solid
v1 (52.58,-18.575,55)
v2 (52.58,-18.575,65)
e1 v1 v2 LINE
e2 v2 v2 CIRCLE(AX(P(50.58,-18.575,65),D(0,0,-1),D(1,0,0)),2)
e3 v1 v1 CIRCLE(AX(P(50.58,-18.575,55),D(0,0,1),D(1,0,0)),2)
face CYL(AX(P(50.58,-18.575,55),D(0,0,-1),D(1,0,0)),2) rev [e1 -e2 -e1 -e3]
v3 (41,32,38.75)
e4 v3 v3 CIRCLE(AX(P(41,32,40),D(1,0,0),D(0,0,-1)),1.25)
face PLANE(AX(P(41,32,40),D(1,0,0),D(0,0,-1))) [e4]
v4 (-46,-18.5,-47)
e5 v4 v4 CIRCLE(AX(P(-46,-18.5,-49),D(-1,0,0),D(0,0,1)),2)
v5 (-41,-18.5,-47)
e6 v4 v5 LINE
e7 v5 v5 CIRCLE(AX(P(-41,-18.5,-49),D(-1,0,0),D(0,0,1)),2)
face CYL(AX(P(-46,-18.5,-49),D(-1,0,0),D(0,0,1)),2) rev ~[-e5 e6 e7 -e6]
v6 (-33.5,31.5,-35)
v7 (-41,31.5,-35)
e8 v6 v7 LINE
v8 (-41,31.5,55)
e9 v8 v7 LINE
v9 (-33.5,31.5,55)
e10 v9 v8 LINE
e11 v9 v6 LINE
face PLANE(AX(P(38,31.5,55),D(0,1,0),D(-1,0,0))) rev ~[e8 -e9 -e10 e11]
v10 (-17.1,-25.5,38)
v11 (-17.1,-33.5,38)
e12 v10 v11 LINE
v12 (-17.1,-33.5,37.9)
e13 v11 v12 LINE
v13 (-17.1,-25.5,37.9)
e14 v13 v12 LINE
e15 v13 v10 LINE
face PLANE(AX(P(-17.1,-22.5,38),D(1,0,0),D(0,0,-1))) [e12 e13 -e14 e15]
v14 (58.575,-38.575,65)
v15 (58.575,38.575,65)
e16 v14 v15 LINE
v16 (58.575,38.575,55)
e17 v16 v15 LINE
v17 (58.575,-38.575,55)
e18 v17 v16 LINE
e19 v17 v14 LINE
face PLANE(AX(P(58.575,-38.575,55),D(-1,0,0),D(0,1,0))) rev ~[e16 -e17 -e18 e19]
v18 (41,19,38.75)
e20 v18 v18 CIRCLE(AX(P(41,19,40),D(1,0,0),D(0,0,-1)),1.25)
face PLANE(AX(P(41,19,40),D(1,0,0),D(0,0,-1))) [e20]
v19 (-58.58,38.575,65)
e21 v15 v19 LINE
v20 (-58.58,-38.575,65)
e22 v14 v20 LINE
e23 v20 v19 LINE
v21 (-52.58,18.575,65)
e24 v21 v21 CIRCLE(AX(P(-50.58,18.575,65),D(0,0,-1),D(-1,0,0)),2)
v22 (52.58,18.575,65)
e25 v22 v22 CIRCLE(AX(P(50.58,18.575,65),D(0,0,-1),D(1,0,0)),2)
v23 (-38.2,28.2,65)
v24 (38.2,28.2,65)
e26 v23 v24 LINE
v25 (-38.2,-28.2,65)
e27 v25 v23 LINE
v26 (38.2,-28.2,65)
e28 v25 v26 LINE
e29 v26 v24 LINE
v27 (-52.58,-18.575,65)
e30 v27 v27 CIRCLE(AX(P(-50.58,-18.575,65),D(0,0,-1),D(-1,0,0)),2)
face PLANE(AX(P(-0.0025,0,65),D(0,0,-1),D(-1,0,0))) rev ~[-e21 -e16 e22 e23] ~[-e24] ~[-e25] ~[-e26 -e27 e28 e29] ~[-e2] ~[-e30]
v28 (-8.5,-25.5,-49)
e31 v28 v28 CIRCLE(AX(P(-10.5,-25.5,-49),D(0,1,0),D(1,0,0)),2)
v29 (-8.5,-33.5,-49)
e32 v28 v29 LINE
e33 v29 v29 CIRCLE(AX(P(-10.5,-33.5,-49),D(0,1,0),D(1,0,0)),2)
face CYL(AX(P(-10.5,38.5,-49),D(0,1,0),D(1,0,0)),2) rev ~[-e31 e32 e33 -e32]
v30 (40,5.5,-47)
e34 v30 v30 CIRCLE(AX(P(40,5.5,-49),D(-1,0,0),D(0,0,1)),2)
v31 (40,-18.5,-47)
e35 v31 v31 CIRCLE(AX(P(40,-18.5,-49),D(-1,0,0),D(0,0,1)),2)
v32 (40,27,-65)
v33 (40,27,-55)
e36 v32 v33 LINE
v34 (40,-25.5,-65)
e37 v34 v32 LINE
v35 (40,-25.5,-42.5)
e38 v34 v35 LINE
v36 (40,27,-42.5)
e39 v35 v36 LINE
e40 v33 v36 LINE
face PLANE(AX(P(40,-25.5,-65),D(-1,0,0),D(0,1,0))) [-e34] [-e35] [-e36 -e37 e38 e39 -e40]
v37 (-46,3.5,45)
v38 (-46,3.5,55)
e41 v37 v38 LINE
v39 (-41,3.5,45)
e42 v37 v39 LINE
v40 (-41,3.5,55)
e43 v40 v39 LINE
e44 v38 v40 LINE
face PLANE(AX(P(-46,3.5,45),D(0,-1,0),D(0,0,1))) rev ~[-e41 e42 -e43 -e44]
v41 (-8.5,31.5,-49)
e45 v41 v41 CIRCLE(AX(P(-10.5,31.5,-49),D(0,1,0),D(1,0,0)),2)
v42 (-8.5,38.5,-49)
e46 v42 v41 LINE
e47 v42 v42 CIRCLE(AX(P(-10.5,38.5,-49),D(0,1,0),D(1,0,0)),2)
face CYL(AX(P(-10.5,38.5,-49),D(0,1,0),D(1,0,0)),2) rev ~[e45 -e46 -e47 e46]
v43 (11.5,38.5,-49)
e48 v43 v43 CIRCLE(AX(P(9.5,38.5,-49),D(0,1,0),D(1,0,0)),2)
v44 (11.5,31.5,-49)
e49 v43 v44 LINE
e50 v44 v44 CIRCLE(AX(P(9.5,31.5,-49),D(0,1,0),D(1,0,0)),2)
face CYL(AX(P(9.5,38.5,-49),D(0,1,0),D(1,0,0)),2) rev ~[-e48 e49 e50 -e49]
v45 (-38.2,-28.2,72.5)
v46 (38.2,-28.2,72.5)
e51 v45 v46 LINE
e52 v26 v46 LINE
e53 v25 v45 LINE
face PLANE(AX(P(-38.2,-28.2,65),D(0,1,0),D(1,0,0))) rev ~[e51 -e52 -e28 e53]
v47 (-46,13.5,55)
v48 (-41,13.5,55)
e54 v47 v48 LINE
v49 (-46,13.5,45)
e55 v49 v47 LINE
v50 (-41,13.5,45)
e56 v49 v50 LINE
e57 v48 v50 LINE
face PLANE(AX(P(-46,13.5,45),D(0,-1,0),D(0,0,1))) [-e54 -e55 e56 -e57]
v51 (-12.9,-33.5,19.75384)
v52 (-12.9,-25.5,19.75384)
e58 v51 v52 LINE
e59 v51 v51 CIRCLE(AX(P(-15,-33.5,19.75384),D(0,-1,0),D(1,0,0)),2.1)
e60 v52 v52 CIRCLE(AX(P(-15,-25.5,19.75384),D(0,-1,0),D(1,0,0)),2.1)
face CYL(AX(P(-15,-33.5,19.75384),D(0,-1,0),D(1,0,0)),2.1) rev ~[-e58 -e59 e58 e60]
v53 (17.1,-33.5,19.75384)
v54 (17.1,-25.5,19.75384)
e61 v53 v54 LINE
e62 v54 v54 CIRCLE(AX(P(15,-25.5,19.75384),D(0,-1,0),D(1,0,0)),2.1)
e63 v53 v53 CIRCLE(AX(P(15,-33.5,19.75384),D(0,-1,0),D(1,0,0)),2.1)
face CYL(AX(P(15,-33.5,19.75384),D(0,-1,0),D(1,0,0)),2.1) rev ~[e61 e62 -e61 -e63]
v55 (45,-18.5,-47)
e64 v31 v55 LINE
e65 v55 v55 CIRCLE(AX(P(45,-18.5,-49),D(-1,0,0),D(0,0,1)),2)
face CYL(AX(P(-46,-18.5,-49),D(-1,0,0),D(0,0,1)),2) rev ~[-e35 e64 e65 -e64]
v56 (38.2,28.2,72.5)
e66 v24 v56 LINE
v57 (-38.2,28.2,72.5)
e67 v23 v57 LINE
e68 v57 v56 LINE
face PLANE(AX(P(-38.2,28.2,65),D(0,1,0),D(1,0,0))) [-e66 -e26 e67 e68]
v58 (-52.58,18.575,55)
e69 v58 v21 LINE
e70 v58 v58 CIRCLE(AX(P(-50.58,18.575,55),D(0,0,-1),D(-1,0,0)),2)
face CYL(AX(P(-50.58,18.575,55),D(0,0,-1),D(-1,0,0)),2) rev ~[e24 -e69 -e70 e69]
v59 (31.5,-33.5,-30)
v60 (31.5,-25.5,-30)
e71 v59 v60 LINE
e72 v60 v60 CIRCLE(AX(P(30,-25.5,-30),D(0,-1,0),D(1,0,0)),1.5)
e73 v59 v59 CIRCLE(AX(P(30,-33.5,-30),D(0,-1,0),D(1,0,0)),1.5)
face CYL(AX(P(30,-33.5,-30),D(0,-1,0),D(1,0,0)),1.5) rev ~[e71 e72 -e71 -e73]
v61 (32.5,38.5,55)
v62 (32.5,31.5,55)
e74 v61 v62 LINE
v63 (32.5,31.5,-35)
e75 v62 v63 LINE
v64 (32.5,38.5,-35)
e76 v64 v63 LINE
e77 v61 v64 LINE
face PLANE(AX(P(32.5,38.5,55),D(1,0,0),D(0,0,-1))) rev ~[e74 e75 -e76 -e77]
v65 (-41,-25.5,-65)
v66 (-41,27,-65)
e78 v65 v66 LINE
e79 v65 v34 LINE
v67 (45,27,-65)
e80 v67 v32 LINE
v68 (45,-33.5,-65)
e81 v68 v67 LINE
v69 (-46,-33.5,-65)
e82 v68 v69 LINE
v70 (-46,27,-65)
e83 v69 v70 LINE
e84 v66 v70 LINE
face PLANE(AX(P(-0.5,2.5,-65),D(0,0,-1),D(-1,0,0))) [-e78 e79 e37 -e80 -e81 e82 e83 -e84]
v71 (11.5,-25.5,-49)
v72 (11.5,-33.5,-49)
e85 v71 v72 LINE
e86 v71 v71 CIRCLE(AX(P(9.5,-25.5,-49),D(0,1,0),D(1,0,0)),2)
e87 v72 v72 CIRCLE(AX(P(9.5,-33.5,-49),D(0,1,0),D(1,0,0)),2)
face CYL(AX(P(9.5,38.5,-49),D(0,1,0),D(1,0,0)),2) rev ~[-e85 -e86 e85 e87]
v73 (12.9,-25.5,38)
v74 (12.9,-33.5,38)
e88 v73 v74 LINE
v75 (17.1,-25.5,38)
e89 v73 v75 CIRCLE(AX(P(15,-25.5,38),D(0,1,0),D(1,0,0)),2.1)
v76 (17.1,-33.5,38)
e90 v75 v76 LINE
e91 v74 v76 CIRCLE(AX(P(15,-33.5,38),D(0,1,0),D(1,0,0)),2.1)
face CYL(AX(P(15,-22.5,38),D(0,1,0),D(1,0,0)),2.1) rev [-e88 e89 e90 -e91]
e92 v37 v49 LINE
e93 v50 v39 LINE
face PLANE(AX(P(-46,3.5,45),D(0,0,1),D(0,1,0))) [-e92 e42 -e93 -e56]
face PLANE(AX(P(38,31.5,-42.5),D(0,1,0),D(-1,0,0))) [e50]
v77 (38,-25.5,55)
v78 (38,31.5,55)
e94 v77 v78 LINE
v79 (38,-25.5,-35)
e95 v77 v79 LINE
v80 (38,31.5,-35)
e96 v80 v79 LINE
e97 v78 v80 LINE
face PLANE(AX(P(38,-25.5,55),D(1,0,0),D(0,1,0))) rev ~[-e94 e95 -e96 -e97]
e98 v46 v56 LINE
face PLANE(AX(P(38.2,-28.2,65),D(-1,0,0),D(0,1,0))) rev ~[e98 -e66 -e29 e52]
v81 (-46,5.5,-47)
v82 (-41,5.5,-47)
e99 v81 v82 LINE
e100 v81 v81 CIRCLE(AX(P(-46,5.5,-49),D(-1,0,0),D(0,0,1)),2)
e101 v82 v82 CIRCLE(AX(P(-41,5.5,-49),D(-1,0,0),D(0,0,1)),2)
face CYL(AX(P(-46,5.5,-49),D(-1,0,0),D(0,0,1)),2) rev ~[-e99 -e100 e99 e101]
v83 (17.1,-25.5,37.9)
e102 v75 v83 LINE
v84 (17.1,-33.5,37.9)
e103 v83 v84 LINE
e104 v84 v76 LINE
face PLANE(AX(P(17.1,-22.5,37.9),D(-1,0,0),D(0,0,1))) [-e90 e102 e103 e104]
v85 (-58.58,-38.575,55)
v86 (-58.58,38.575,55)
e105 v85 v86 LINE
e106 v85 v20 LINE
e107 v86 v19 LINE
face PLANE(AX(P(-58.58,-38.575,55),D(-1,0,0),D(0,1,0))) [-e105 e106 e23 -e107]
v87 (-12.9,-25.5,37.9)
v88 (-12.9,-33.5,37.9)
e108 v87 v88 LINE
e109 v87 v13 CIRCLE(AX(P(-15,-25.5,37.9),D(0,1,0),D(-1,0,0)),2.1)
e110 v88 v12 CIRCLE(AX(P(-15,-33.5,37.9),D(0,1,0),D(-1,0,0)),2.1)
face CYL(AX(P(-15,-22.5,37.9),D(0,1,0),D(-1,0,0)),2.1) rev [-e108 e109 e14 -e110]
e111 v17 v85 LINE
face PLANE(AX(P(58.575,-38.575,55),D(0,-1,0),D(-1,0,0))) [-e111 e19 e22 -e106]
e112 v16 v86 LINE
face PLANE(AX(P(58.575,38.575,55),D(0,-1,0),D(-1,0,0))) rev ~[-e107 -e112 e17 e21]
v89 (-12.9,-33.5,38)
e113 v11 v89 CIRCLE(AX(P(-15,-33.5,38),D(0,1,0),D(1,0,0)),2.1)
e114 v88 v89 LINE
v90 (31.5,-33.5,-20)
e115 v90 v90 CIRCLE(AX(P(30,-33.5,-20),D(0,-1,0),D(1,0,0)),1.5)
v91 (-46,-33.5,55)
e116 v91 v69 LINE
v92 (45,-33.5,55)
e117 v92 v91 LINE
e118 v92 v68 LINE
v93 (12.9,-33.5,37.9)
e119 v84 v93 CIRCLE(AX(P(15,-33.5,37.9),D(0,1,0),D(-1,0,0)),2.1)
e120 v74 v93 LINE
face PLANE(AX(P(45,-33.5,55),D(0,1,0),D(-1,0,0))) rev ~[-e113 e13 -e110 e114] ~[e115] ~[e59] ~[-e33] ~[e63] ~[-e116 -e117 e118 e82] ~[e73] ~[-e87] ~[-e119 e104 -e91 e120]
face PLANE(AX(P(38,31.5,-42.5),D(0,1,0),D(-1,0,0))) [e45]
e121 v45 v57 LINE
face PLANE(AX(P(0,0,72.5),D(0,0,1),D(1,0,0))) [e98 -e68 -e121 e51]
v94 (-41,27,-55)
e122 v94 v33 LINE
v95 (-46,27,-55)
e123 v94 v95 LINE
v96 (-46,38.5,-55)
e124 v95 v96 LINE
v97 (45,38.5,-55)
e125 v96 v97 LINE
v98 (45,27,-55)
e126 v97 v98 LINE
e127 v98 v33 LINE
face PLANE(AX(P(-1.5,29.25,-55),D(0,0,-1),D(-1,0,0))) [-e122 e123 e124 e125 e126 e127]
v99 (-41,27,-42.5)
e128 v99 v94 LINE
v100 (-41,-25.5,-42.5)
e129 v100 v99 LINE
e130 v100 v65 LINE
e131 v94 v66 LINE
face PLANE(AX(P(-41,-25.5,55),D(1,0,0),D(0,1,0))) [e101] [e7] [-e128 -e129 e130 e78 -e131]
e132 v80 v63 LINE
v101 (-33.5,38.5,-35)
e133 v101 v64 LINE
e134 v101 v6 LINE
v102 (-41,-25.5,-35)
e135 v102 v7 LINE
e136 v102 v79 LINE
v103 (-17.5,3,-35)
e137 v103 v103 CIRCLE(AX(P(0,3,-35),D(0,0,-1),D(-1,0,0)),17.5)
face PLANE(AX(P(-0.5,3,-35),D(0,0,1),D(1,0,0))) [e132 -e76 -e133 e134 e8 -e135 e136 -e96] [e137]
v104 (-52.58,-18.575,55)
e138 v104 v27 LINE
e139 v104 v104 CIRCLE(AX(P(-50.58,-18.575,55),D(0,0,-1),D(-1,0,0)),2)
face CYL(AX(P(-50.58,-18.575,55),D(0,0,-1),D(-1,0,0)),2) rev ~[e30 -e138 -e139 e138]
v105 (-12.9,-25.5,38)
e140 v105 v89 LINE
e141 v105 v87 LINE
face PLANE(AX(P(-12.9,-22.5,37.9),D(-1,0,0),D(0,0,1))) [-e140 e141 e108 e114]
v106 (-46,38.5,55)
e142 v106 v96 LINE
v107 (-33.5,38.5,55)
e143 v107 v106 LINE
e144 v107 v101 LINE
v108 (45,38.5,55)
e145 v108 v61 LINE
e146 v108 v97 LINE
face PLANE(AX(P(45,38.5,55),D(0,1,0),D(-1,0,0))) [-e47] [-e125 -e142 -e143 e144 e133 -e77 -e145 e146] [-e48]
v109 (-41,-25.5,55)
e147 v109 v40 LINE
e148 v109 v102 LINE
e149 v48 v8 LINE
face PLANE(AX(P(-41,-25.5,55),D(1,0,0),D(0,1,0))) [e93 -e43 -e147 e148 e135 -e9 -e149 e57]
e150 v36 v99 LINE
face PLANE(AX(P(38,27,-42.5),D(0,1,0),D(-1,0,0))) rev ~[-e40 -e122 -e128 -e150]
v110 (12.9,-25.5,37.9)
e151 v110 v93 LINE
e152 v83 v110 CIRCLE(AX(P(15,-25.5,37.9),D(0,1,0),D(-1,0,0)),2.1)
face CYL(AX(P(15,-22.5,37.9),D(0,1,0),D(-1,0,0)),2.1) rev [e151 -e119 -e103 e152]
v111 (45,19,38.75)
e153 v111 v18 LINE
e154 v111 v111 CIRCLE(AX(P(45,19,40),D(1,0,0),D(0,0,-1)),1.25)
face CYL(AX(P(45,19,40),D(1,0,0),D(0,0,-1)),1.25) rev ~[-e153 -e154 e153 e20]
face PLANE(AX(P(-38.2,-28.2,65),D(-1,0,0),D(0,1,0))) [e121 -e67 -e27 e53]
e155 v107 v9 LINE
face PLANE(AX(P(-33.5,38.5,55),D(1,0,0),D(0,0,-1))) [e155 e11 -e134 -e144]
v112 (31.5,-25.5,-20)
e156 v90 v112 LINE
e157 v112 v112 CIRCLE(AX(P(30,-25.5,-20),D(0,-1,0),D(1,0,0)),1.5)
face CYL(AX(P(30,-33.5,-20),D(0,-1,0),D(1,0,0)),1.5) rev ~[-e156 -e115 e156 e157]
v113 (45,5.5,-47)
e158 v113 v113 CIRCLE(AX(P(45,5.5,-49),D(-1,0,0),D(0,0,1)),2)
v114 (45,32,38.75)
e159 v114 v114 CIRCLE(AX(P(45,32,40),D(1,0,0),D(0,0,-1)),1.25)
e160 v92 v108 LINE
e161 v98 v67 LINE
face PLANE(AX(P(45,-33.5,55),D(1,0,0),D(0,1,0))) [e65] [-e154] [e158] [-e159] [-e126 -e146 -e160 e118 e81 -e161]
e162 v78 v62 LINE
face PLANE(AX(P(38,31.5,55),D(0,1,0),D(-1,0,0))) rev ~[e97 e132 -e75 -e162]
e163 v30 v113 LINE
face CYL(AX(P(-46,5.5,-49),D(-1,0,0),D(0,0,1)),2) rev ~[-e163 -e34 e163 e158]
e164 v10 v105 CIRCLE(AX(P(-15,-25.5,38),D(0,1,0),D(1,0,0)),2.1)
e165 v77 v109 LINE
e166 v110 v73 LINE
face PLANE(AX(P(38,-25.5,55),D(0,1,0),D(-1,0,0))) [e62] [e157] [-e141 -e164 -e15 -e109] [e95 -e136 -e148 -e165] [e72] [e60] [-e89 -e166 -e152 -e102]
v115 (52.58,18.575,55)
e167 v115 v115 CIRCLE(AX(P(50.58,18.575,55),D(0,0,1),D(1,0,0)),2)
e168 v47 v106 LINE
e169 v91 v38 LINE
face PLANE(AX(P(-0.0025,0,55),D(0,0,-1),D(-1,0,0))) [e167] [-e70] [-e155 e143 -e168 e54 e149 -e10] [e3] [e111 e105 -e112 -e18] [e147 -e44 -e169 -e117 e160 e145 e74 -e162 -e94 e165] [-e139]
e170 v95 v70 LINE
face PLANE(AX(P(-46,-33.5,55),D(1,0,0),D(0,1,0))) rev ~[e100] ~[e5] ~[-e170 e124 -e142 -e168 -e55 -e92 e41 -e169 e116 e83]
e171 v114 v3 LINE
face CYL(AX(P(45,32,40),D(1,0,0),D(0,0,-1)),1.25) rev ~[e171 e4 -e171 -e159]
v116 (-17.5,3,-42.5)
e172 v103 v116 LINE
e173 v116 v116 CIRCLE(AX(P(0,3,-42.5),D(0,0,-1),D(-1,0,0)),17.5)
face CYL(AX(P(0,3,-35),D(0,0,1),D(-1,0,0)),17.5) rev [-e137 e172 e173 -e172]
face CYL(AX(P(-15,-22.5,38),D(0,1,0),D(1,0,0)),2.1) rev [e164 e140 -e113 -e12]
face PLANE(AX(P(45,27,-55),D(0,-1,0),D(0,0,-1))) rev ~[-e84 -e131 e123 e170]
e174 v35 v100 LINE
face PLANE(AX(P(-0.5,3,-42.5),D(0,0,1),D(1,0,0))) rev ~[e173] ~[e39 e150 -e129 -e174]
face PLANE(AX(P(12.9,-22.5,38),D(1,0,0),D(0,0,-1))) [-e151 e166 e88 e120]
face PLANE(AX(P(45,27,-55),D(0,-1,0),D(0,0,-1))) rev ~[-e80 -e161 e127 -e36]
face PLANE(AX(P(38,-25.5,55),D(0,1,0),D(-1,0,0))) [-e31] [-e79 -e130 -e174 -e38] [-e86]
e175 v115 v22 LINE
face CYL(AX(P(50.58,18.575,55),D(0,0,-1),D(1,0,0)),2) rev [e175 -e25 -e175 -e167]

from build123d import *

# Parameters (mm, degrees)
SKETCH1_W               = 50
SKETCH1_H               = 51
BOSS_EXTRUDE1_DEPTH     = 3
SKETCH2_W               = 50
SKETCH2_H               = 3
BOSS_EXTRUDE2_DEPTH     = 50
FILLET1_R               = 2
CHAMFER1_SIZE           = 5
SKETCH4_R               = 12.55
SKETCH4_R_2             = 2.1
CUT_EXTRUDE2_DEPTH      = 50
BOSS_EXTRUDE3_DEPTH     = 3
CROQUIS1_W              = 117.155
CROQUIS1_H              = 77.15
SALIENTE_EXTRUIR1_DEPTH = 10
CROQUIS2_W              = 76.4
CROQUIS2_H              = 56.4
SALIENTE_EXTRUIR2_DEPTH = 7.5
CROQUIS3_R              = 2
CORTAR_EXTRUIR1_DEPTH   = 27.5
CROQUIS4_W              = 91
CROQUIS4_H              = 72
CROQUIS4_W_2            = 79
CROQUIS4_H_2            = 57
SALIENTE_EXTRUIR3_DEPTH = 120
CUT_EXTRUDE1_DEPTH      = 50
CROQUIS5_W              = 66
CROQUIS5_H              = 90
CORTAR_EXTRUIR2_DEPTH   = 64
CROQUIS7_R              = 2.1
CORTAR_EXTRUIR3_DEPTH   = 20
CROQUIS9_R              = 2
CORTAR_EXTRUIR5_DEPTH   = 110
CROQUIS8_R              = 2
CORTAR_EXTRUIR6_DEPTH   = 120
CROQUIS10_R             = 17.5
SALIENTE_EXTRUIR4_DEPTH = 7.5
CROQUIS11_W             = 81
CROQUIS11_H             = 10
CROQUIS11_W_2           = 5
CORTAR_EXTRUIR7_DEPTH   = 7.9
CROQUIS12_W             = 79
CROQUIS12_H             = 4.5
SALIENTE_EXTRUIR5_DEPTH = 12.5
CROQUIS14_W             = 10
CROQUIS14_H             = 3.6
CORTAR_EXTRUIR8_DEPTH   = 100
CROQUIS21_R             = 1.25
CORTAR_EXTRUIR10_DEPTH  = 4
CROQUIS22_R             = 1.5
CORTAR_EXTRUIR11_DEPTH  = 40
CROQUIS23_W             = 10
CROQUIS23_H             = 10
CORTAR_EXTRUIR12_DEPTH  = 10
CROQUIS24_W             = 2
CROQUIS24_H             = 52.5
CORTAR_EXTRUIR13_DEPTH  = 22.5


with BuildPart() as part:
    # Sketch1 → Boss-Extrude1 (new body)
    with BuildSketch(Plane.XY):
        Rectangle(SKETCH1_W, SKETCH1_H)
    extrude(amount=BOSS_EXTRUDE1_DEPTH)

    # Sketch2 → Boss-Extrude2 (add)
    with BuildSketch(Plane.XY.offset(3)):
        with Locations((0, -24)):
            Rectangle(SKETCH2_W, SKETCH2_H)
    extrude(amount=BOSS_EXTRUDE2_DEPTH)

    # Fillet1
    fillet1_edges = [part.edges().sort_by_distance(p)[0] for p in [
        (0, -22.5, 3),
        (0, -25.5, 0),
    ]]
    fillet(fillet1_edges, radius=FILLET1_R)

    # Chamfer1
    chamfer1_edges = [part.edges().sort_by_distance(p)[0] for p in [
        (-25, -24, 53),
        (25, -24, 53),
        (-25, 25.5, 1.5),
        (25, 25.5, 1.5),
    ]]
    chamfer(chamfer1_edges, length=CHAMFER1_SIZE)

    # Sketch4 → Cut-Extrude2 (cut)
    with BuildSketch(Plane.XY.offset(3)):
        with Locations((0, 4.5)):
            Circle(SKETCH4_R)
        with Locations((0, 22)):
            Circle(SKETCH4_R_2)
        with Locations((0, -13)):
            Circle(SKETCH4_R_2)
        with Locations((17.5, 4.5)):
            Circle(SKETCH4_R_2)
        with Locations((-17.5, 4.5)):
            Circle(SKETCH4_R_2)
    extrude(amount=-CUT_EXTRUDE2_DEPTH, mode=Mode.SUBTRACT)

    # Sketch5 → Boss-Extrude3 (add)
    with BuildSketch(Plane.ZY.offset(25)):
        with BuildLine():
            Line((3, -2.5), (16, -22.5))
            Line((16, -22.5), (5, -22.5))
            ThreePointArc((5, -22.5), (3.585786438, -21.914213562), (3, -20.5))
            Line((3, -20.5), (3, -2.5))
        make_face()
    boss_extrude3 = extrude(amount=-BOSS_EXTRUDE3_DEPTH)

    # Mirror1: Boss-Extrude3 across plane
    add(boss_extrude3.mirror(Plane(origin=(0, 0, 0), x_dir=(0, 0, 1), z_dir=(1, 0, 0))))



with BuildPart() as body_2:
    # Croquis1 → Saliente-Extruir1 (new body)
    with BuildSketch(Plane(origin=(0, 0, 55), x_dir=(-1, 0, 0), z_dir=(0, 0, -1))):
        with Locations((0.0025, 0)):
            Rectangle(CROQUIS1_W, CROQUIS1_H)
    extrude(amount=-SALIENTE_EXTRUIR1_DEPTH)

    # Croquis2 → Saliente-Extruir2 (add)
    with BuildSketch(Plane.XY.offset(65)):
        Rectangle(CROQUIS2_W, CROQUIS2_H)
    extrude(amount=SALIENTE_EXTRUIR2_DEPTH)

    # Croquis3 → Cortar-Extruir1 (cut)
    with BuildSketch(Plane(origin=(0, 0, 55), x_dir=(-1, 0, 0), z_dir=(0, 0, -1))):
        with Locations((50.58, -18.575)):
            Circle(CROQUIS3_R)
        with Locations((50.58, 18.575)):
            Circle(CROQUIS3_R)
    cortar_extruir1 = extrude(amount=-CORTAR_EXTRUIR1_DEPTH, mode=Mode.SUBTRACT)

    # Simetría1: Cortar-Extruir1 across plane
    add(cortar_extruir1.mirror(Plane(origin=(0, 0, 0), x_dir=(0, 0, 1), z_dir=(1, 0, 0))), mode=Mode.SUBTRACT)


with BuildPart() as part_1:
    add(part.part)

    add(body_2.part)  # Saliente-Extruir3 merges body 2
    # Croquis4 → Saliente-Extruir3 (add)
    with BuildSketch(Plane(origin=(0, 0, 55), x_dir=(-1, 0, 0), z_dir=(0, 0, -1))):
        with Locations((0.5, 2.5)):
            Rectangle(CROQUIS4_W, CROQUIS4_H)
        with Locations((1.5, 3)):
            Rectangle(CROQUIS4_W_2, CROQUIS4_H_2, mode=Mode.SUBTRACT)
    extrude(amount=SALIENTE_EXTRUIR3_DEPTH)

    # Sketch3 → Cut-Extrude1 (cut)
    with BuildSketch(Plane(origin=(0, -22.5, 0), x_dir=(1, 0, 0), z_dir=(0, 1, 0))):
        with BuildLine():
            Line((-17.1, -38), (-17.1, -37.9))
            ThreePointArc((-17.1, -37.9), (-15, -35.8), (-12.9, -37.9))
            Line((-12.9, -37.9), (-12.9, -38))
            ThreePointArc((-12.9, -38), (-15, -40.1), (-17.1, -38))
        make_face()
        with BuildLine():
            Line((12.9, -38), (12.9, -37.9))
            ThreePointArc((12.9, -37.9), (15, -35.8), (17.1, -37.9))
            Line((17.1, -37.9), (17.1, -38))
            ThreePointArc((17.1, -38), (15, -40.1), (12.9, -38))
        make_face()
    extrude(amount=-CUT_EXTRUDE1_DEPTH, mode=Mode.SUBTRACT)

    # Croquis5 → Cortar-Extruir2 (cut)
    with BuildSketch(Plane(origin=(0, 38.5, 0), x_dir=(1, 0, 0), z_dir=(0, 1, 0))):
        with Locations((-0.5, -10)):
            Rectangle(CROQUIS5_W, CROQUIS5_H)
    extrude(amount=-CORTAR_EXTRUIR2_DEPTH, mode=Mode.SUBTRACT)

    # Croquis7 → Cortar-Extruir3 (cut)
    with BuildSketch(Plane.XZ.offset(33.5)):
        with Locations((15, 19.753839811)):
            Circle(CROQUIS7_R)
        with Locations((-15, 19.753839811)):
            Circle(CROQUIS7_R)
    extrude(amount=-CORTAR_EXTRUIR3_DEPTH, mode=Mode.SUBTRACT)

    # Croquis9 → Cortar-Extruir5 (cut)
    with BuildSketch(Plane.ZY.offset(46)):
        with Locations((-49, -18.5)):
            Circle(CROQUIS9_R)
        with Locations((-49, 5.5)):
            Circle(CROQUIS9_R)
    extrude(amount=-CORTAR_EXTRUIR5_DEPTH, mode=Mode.SUBTRACT)

    # Croquis8 → Cortar-Extruir6 (cut)
    with BuildSketch(Plane(origin=(0, 38.5, 0), x_dir=(1, 0, 0), z_dir=(0, 1, 0))):
        with Locations((-10.5, 49)):
            Circle(CROQUIS8_R)
        with Locations((9.5, 49)):
            Circle(CROQUIS8_R)
    extrude(amount=-CORTAR_EXTRUIR6_DEPTH, mode=Mode.SUBTRACT)

    # Croquis10 → Saliente-Extruir4 (add)
    with BuildSketch(Plane(origin=(0, 0, -35), x_dir=(-1, 0, 0), z_dir=(0, 0, -1))):
        Polygon((41, 0), (41, -25.5), (-40, -25.5), (-40, 31.5), (41, 31.5), align=None)
        with Locations((0, 3)):
            Circle(CROQUIS10_R, mode=Mode.SUBTRACT)
    extrude(amount=SALIENTE_EXTRUIR4_DEPTH)

    # Croquis11 → Cortar-Extruir7 (cut)
    with BuildSketch(Plane(origin=(0, 38.5, 0), x_dir=(1, 0, 0), z_dir=(0, 1, 0))):
        with Locations((-0.5, 60)):
            Rectangle(CROQUIS11_W, CROQUIS11_H)
        with Locations((-43.5, 60)):
            Rectangle(CROQUIS11_W_2, CROQUIS11_H)
        with Locations((42.5, 60)):
            Rectangle(CROQUIS11_W_2, CROQUIS11_H)
    extrude(amount=-CORTAR_EXTRUIR7_DEPTH, mode=Mode.SUBTRACT)

    # Croquis12 → Saliente-Extruir5 (add)
    with BuildSketch(Plane(origin=(0, 0, -42.5), x_dir=(-1, 0, 0), z_dir=(0, 0, -1))):
        with Locations((1.5, 29.25)):
            Rectangle(CROQUIS12_W, CROQUIS12_H)
    extrude(amount=SALIENTE_EXTRUIR5_DEPTH)

    # Croquis14 → Cortar-Extruir8 (cut)
    with BuildSketch(Plane(origin=(45, 0, 0), x_dir=(0, 0, -1), z_dir=(1, 0, 0))):
        with Locations((60, 28.8)):
            Rectangle(CROQUIS14_W, CROQUIS14_H)
    extrude(amount=-CORTAR_EXTRUIR8_DEPTH, mode=Mode.SUBTRACT)

    # Croquis21 → Cortar-Extruir10 (cut)
    with BuildSketch(Plane(origin=(45, 0, 0), x_dir=(0, 0, -1), z_dir=(1, 0, 0))):
        with Locations((-40, 32)):
            Circle(CROQUIS21_R)
        with Locations((-40, 19)):
            Circle(CROQUIS21_R)
    extrude(amount=-CORTAR_EXTRUIR10_DEPTH, mode=Mode.SUBTRACT)

    # Croquis22 → Cortar-Extruir11 (cut)
    with BuildSketch(Plane.XZ.offset(33.5)):
        with Locations((30, -30)):
            Circle(CROQUIS22_R)
        with Locations((30, -20)):
            Circle(CROQUIS22_R)
    extrude(amount=-CORTAR_EXTRUIR11_DEPTH, mode=Mode.SUBTRACT)

    # Croquis23 → Cortar-Extruir12 (cut)
    with BuildSketch(Plane.ZY.offset(46)):
        with Locations((50, 8.5)):
            Rectangle(CROQUIS23_W, CROQUIS23_H)
    extrude(amount=-CORTAR_EXTRUIR12_DEPTH, mode=Mode.SUBTRACT)

    # Croquis24 → Cortar-Extruir13 (cut)
    with BuildSketch(Plane(origin=(0, 0, -65), x_dir=(-1, 0, 0), z_dir=(0, 0, -1))):
        with Locations((-39, 0.75)):
            Rectangle(CROQUIS24_W, CROQUIS24_H)
    extrude(amount=-CORTAR_EXTRUIR13_DEPTH, mode=Mode.SUBTRACT)


solid = part_1.part
